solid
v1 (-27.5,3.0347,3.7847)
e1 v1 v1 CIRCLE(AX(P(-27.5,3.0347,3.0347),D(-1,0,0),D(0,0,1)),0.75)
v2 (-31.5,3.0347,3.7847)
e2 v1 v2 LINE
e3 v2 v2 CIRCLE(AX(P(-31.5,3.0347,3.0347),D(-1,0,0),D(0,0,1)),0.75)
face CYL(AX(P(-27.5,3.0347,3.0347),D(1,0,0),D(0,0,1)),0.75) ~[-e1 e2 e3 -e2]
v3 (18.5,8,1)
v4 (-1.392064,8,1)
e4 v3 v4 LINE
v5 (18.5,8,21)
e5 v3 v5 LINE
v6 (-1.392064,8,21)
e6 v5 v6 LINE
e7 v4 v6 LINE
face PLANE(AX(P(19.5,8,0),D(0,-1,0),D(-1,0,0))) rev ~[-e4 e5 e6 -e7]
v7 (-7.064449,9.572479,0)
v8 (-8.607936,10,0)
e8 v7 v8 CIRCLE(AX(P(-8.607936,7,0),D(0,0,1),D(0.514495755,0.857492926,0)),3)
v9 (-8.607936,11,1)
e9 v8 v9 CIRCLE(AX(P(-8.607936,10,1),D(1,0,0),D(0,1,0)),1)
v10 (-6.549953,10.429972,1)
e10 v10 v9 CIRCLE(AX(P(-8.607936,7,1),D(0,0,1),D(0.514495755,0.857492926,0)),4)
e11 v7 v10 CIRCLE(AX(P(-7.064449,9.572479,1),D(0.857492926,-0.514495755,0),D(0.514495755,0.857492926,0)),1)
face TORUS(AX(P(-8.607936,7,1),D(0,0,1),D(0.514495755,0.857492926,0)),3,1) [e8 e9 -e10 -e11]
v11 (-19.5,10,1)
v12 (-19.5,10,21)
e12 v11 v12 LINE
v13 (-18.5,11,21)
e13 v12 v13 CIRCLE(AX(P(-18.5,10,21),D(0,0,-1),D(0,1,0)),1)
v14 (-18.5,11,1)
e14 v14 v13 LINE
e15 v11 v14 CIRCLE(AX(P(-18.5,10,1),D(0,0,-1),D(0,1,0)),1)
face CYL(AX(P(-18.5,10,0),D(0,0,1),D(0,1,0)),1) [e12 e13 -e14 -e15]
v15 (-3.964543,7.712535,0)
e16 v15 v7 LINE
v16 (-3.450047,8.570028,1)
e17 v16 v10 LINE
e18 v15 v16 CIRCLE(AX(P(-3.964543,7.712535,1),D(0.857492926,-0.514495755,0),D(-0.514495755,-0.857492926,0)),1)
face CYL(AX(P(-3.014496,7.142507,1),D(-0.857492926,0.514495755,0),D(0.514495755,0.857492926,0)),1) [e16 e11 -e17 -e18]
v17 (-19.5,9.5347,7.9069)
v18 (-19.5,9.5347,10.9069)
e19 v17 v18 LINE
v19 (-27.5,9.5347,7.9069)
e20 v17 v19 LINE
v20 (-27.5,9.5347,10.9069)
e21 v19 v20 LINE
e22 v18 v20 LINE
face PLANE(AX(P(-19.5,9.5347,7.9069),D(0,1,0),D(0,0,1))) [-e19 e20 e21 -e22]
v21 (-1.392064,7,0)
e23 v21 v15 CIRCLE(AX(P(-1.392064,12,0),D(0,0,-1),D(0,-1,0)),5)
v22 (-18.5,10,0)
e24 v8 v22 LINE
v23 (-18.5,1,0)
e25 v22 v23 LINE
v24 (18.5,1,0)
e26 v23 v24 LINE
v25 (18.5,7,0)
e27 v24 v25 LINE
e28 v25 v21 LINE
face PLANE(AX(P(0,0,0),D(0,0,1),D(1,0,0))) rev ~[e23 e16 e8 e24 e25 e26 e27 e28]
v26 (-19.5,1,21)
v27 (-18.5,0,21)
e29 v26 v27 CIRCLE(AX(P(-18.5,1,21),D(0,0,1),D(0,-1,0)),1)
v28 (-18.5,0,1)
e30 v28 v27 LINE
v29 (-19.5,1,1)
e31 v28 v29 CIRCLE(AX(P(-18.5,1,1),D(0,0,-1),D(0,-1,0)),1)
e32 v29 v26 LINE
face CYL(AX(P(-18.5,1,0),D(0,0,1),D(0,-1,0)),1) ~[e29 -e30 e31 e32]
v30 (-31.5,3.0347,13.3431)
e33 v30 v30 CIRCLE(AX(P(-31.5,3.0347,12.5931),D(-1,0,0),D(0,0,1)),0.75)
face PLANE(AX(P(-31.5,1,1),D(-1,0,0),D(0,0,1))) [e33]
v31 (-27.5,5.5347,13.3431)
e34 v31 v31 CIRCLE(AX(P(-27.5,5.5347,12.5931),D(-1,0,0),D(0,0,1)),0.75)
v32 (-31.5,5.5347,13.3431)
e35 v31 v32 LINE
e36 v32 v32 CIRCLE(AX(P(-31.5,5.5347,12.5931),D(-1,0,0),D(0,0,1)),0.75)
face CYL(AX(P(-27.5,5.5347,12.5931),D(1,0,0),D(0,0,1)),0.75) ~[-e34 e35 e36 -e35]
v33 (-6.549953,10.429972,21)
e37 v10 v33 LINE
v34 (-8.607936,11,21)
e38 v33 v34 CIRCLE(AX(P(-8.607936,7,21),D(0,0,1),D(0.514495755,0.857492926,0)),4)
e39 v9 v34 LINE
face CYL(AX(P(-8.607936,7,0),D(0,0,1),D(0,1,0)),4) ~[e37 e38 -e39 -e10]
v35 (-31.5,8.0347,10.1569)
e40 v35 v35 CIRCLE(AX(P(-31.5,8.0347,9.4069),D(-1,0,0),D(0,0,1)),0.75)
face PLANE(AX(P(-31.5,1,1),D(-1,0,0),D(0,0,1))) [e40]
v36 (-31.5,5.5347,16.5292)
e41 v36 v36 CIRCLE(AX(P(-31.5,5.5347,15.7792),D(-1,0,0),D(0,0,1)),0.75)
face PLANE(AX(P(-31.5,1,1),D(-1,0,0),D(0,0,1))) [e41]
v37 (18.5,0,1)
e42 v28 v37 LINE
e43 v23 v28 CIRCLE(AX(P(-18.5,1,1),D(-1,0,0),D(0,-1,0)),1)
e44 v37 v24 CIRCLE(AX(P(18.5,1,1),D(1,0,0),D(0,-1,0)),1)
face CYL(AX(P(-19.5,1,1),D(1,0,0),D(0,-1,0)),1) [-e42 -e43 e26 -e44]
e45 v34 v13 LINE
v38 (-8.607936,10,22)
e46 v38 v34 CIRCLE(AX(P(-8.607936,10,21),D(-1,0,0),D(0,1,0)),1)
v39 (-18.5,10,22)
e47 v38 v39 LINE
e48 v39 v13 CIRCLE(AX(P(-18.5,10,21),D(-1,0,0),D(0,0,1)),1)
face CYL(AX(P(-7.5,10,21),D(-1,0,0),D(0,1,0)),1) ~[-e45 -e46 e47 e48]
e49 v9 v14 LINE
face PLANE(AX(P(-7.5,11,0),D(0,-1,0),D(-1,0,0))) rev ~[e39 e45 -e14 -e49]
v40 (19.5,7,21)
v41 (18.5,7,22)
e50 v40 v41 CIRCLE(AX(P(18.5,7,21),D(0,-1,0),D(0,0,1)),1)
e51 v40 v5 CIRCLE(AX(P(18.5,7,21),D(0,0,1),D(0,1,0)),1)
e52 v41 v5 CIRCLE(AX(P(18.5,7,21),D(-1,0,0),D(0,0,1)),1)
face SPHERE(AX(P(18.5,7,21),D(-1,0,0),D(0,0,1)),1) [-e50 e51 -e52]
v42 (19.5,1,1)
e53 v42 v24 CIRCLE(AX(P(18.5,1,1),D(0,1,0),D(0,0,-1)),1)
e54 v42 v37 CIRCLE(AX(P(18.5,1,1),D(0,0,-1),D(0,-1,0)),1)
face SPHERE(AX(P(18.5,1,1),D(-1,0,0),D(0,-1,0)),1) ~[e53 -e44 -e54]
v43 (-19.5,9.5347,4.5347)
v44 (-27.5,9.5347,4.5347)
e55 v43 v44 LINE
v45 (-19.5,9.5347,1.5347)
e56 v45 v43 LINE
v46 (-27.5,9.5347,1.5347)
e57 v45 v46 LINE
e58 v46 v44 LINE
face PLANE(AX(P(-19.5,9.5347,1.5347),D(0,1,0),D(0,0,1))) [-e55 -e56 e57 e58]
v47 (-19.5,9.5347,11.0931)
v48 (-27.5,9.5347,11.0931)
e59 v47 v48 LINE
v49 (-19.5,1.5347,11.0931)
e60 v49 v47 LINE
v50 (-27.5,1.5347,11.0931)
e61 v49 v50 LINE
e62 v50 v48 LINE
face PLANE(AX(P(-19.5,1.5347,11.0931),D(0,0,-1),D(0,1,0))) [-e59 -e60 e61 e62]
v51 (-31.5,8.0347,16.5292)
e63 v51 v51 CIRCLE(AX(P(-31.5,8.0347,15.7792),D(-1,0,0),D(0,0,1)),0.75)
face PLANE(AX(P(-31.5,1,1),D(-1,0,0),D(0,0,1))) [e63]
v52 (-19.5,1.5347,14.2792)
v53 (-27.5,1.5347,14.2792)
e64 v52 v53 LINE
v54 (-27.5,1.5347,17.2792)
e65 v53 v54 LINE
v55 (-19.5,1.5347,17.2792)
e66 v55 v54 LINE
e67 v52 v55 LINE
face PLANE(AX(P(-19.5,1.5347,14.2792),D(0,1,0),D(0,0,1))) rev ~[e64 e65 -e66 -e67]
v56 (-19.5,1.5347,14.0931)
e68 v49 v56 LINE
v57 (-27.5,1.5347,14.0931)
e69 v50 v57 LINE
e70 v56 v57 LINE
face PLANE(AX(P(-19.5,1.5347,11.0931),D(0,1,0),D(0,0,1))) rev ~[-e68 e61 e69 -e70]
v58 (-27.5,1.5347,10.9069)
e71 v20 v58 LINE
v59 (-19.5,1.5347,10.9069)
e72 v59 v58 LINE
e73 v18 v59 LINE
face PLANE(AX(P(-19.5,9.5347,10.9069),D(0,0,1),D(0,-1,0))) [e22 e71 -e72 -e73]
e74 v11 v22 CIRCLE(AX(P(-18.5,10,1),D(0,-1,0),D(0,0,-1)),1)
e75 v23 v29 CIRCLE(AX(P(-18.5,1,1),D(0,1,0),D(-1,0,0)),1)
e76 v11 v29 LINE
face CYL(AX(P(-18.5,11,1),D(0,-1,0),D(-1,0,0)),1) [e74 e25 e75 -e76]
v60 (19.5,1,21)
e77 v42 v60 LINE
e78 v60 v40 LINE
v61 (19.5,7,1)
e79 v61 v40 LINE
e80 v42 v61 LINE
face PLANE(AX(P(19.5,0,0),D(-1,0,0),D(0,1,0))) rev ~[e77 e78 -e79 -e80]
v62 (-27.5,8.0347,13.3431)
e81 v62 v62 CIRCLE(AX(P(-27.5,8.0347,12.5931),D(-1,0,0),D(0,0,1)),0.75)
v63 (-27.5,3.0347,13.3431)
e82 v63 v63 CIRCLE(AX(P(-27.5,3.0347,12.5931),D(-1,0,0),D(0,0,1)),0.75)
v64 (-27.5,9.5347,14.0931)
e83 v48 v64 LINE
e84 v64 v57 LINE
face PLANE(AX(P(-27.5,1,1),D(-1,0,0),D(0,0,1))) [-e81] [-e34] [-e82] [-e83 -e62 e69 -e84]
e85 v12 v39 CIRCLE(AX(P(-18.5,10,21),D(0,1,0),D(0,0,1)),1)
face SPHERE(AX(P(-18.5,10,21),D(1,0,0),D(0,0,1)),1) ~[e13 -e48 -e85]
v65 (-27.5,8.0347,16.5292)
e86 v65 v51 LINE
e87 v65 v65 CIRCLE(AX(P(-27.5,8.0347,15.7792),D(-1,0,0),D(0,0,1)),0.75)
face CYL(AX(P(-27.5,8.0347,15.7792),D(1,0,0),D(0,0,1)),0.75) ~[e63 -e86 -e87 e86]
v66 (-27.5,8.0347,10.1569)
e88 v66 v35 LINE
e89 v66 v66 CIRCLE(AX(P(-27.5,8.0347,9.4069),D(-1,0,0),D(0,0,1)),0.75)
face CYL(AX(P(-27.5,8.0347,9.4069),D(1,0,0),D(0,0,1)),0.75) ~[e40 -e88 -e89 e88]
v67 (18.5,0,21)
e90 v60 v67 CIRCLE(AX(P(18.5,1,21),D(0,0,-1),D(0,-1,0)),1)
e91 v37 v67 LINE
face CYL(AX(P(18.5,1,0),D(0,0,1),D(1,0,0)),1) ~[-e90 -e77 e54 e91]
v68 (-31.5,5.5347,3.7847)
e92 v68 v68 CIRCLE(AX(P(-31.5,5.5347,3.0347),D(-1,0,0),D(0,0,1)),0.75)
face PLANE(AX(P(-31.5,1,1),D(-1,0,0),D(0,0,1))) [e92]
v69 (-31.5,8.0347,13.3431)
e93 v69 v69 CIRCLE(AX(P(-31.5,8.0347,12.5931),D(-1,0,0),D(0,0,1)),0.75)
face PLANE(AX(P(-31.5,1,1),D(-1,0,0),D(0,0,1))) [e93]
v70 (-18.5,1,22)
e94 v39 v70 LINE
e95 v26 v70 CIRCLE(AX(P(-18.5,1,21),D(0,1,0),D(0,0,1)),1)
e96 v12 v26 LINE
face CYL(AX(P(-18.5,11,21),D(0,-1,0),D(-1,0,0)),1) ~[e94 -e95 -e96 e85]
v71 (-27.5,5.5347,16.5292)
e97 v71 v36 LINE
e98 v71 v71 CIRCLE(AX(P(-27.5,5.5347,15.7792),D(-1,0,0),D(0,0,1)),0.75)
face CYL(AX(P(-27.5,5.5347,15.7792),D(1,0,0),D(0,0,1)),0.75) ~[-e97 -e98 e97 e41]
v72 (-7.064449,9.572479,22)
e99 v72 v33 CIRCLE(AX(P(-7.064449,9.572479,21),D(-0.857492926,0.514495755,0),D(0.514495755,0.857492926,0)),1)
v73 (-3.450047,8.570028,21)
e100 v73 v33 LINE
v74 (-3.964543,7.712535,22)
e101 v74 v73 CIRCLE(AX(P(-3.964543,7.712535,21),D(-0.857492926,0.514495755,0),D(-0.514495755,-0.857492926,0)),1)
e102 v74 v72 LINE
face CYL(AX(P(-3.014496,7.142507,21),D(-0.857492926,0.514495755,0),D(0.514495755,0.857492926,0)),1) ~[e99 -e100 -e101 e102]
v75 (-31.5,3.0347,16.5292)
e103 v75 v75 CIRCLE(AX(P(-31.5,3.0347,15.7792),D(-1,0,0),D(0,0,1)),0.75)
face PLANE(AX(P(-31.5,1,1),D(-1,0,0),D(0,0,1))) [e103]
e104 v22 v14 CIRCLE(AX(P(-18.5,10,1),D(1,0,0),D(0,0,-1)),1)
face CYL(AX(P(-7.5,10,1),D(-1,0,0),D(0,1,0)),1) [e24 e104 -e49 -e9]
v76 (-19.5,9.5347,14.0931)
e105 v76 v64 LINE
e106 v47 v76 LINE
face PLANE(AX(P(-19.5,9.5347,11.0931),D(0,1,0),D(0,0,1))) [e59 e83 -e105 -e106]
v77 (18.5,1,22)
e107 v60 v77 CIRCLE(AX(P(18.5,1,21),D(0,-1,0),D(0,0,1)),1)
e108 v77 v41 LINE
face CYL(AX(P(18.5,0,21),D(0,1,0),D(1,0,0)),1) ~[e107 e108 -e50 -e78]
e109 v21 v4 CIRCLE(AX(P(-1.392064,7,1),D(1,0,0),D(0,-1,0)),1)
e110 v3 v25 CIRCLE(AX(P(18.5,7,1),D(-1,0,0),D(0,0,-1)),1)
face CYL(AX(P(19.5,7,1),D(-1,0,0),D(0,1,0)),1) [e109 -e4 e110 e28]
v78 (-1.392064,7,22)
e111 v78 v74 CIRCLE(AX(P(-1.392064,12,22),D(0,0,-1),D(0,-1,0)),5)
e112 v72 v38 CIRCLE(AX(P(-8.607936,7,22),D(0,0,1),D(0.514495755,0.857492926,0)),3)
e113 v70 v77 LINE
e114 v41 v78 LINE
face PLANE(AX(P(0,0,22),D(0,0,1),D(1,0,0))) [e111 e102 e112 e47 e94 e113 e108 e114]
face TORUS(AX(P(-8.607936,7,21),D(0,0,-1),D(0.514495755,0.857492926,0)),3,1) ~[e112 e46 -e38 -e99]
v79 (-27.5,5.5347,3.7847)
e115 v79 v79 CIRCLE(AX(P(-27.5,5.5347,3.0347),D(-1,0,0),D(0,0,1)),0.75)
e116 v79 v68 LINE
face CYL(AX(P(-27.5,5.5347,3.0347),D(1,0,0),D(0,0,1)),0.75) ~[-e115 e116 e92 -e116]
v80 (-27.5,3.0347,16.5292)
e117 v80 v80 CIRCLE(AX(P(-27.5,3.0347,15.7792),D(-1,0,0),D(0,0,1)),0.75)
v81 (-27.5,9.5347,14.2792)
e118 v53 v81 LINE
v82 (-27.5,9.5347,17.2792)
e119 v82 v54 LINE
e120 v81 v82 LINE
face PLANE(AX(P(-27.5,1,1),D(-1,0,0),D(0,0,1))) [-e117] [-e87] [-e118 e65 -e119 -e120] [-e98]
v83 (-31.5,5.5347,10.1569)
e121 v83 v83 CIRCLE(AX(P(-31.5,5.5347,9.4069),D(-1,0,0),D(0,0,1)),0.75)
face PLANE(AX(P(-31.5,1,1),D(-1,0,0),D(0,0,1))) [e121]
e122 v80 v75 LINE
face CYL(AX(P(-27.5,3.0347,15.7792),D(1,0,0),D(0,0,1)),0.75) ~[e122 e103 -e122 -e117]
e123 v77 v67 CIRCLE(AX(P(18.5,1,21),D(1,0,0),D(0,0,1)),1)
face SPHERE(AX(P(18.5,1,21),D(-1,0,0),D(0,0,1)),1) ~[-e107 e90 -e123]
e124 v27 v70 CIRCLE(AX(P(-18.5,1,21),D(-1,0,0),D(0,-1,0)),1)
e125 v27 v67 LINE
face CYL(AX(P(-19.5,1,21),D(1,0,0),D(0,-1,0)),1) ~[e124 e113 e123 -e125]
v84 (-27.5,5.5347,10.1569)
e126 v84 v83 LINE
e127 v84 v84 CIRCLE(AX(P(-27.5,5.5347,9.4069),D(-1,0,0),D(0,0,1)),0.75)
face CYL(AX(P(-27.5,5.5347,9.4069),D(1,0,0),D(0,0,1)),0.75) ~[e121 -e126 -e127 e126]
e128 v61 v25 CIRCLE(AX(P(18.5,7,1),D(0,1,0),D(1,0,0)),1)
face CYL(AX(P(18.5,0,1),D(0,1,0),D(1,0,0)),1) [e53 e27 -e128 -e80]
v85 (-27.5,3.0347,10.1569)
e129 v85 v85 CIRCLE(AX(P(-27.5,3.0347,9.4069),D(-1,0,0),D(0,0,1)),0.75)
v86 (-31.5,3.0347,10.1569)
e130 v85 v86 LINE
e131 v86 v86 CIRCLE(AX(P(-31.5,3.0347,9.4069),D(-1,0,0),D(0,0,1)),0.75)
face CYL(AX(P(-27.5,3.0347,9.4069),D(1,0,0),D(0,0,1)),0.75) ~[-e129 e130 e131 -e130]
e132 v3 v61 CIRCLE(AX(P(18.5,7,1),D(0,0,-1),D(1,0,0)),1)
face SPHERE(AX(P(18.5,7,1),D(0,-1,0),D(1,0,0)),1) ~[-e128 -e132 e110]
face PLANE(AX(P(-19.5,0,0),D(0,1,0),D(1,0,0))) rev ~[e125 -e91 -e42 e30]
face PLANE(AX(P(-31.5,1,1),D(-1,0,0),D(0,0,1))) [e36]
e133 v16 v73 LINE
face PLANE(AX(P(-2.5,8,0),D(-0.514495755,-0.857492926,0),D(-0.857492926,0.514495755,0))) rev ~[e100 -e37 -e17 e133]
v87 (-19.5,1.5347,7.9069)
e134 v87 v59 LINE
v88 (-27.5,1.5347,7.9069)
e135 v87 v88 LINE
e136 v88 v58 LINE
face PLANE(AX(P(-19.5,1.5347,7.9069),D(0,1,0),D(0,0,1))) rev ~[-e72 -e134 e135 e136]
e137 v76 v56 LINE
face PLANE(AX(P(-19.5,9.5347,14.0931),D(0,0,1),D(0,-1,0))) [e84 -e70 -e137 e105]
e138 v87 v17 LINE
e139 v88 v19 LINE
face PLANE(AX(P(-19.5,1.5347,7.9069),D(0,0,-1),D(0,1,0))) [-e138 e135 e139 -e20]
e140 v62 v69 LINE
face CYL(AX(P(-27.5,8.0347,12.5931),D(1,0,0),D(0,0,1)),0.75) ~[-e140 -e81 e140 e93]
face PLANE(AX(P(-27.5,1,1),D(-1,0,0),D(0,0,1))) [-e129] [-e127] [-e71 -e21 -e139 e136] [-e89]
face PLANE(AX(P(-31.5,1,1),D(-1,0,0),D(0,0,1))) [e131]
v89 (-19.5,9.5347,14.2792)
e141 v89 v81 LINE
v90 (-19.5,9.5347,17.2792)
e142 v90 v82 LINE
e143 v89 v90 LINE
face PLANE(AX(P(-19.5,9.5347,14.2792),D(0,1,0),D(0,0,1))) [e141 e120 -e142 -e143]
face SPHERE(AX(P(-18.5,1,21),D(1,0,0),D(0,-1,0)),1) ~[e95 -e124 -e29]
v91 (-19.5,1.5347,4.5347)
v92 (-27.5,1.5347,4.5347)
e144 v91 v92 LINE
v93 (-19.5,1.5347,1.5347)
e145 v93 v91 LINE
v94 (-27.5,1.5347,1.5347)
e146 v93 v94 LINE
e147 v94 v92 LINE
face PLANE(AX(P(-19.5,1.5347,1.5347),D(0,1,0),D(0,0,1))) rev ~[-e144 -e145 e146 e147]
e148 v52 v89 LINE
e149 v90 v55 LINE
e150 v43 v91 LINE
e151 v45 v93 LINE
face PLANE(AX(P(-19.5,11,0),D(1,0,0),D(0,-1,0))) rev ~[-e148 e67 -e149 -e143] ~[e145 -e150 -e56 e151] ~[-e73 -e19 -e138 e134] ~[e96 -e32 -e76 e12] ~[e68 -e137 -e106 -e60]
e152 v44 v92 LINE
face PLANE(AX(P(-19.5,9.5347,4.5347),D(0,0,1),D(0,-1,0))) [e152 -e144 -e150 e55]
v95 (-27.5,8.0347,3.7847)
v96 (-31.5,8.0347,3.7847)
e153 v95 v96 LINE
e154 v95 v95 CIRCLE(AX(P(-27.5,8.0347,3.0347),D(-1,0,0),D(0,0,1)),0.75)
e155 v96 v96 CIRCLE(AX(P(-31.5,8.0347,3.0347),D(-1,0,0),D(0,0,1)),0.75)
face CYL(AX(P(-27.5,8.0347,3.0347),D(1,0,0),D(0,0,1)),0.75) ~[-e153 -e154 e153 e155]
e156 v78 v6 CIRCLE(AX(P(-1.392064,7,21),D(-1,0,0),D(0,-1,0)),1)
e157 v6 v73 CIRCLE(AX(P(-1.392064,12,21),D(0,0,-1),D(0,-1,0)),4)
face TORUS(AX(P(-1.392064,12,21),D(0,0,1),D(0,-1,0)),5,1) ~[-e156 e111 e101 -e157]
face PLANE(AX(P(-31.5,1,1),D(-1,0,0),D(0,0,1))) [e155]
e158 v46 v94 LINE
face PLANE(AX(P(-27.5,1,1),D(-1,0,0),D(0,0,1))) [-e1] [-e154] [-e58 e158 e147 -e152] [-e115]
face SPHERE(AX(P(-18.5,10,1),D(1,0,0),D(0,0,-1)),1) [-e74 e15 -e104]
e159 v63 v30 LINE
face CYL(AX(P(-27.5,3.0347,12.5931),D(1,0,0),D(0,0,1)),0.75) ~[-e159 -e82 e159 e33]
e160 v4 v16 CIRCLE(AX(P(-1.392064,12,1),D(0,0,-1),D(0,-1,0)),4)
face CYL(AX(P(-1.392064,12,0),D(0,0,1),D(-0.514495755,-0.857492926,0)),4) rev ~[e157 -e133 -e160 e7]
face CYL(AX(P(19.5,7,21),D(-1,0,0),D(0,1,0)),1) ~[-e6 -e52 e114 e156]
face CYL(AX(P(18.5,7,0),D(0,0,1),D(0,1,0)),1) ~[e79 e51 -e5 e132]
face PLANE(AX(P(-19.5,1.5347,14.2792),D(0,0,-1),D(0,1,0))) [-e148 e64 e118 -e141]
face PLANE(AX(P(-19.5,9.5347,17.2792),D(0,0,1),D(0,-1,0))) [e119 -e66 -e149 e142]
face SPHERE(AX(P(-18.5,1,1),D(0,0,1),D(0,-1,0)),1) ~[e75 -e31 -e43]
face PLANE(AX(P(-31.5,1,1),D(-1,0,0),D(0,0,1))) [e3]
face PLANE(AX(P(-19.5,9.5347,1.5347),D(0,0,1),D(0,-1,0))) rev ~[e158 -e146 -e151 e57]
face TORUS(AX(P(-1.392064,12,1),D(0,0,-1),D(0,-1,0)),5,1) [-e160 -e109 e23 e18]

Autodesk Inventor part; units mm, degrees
ref_plane "YZ Plane" through (0, 0, 0) normal (1, 0, 0) x (0, 1, 0)
ref_plane "XZ Plane" through (0, 0, 0) normal (0, 1, 0) x (-1, 0, 0)
ref_plane "XY Plane" through (0, 0, 0) normal (0, 0, 1) x (1, 0, 0)
sketch "スケッチ1" plane through (0, 0, 0) normal (0, 0, 1) x (1, 0, 0)
  line L0 (-19.5, 11) -> (-19.5, 0)
  line L1 (-19.5, 0) -> (19.5, 0)
  line L2 (19.5, 0) -> (19.5, 8)
  line L3 (19.5, 8) -> (-2.5, 8)
  line L4 (-2.5, 8) -> (-7.5, 11)
  line L5 (-7.5, 11) -> (-19.5, 11)
  point P0 (0, 0)
  point P1 (0, 0)
  dimension "d0" = 8
  dimension "d1" = 11
  dimension "d2" = 39
  dimension "d3" = 12
  dimension "d4" = 22
extrude "押し出し1" add sketch "スケッチ1" along normal blind 22
fillet "フィレット1" radius 1 16 edges at (0, 0, 22) (8.5, 8, 22) (19.5, 4, 22) (-19.5, 0, 11) (0, 0, 0) (19.5, 0, 11) (19.5, 4, 0) (19.5, 8, 11) (-5, 9.5, 22) (8.5, 8, 0) (-5, 9.5, 0) (-13.5, 11, 22) (-19.5, 5.5, 22) (-13.5, 11, 0) (-19.5, 5.5, 0) (-19.5, 11, 11)
fillet "フィレット1" radius 4 2 edges at (-7.5, 11, 11) (-2.5, 8, 11)
sketch "スケッチ2" plane through (-19.5, 1, 1) normal (-1, 0, 0) x (0, 0, 1)
  line L0 (0, 0) -> (0, 9) projected
  line L1 (20, 0) -> (0, 0) projected
  line L2 (20, 9) -> (20, 0) projected
  line L3 (0.5347, 8.5347) -> (0.5347, 0.5347)
  line L4 (0.5347, 0.5347) -> (19.4653, 0.5347)
  line L5 (19.4653, 0.5347) -> (19.4653, 8.5)
  line L6 (0.5347, 8.5347) -> (3.5347, 8.5347)
  line L7 (3.5347, 8.5347) -> (3.5347, 0.5347)
  line L8 (3.5347, 0.5347) -> (0.5347, 0.5347)
  line L9 (0.5347, 0.5347) -> (0.5347, 8.5347)
  line L10 (3.7208, 8.5347) -> (6.7208, 8.5347)
  line L11 (6.7208, 8.5347) -> (6.7208, 0.5347)
  line L12 (6.7208, 0.5347) -> (3.7208, 0.5347)
  line L13 (3.7208, 0.5347) -> (3.7208, 8.5347)
  line L14 (6.9069, 8.5347) -> (9.9069, 8.5347)
  line L15 (9.9069, 8.5347) -> (9.9069, 0.5347)
  line L16 (9.9069, 0.5347) -> (6.9069, 0.5347)
  line L17 (6.9069, 0.5347) -> (6.9069, 8.5347)
  line L18 (10.0931, 8.5347) -> (13.0931, 8.5347)
  line L19 (13.0931, 8.5347) -> (13.0931, 0.5347)
  line L20 (13.0931, 0.5347) -> (10.0931, 0.5347)
  line L21 (10.0931, 0.5347) -> (10.0931, 8.5347)
  line L22 (13.2792, 8.5347) -> (16.2792, 8.5347)
  line L23 (16.2792, 8.5347) -> (16.2792, 0.5347)
  line L24 (16.2792, 0.5347) -> (13.2792, 0.5347)
  line L25 (13.2792, 0.5347) -> (13.2792, 8.5347)
  line L26 (16.4653, 8.5347) -> (19.4653, 8.5347)
  line L27 (19.4653, 8.5347) -> (19.4653, 0.5347)
  line L28 (19.4653, 0.5347) -> (16.4653, 0.5347)
  line L29 (16.4653, 0.5347) -> (16.4653, 8.5347)
  line L30 (3.5347, 8.5347) -> (3.7208, 8.5347)
  line L31 (6.7208, 8.5347) -> (6.9069, 8.5347)
  line L32 (9.9069, 8.5347) -> (10.0931, 8.5347)
  line L33 (13.0931, 8.5347) -> (13.2792, 8.5347)
  line L34 (16.2792, 8.5347) -> (16.4653, 8.5347)
  point P0 (-1, -1)
  dimension "d9" = 8
  dimension "d11" = 0.5347
  dimension "d12" = 3
extrude "押し出し2" add sketch "スケッチ2" along normal blind 8 contours L6 L7 L4 L3 | L10 L11 L4 L13 | L14 L15 L4 L17 | L18 L19 L4 L21 | L22 L23 L4 L25 | L26 L27 L5 L4 L29
sketch "スケッチ4" plane through (-27.5, 1, 1) normal (-1, 0, 0) x (0, 0, 1)
  line L0 (0.5347, 8.5347) -> (0.5347, 0.5347) projected
  line L1 (6.7208, 0.5347) -> (6.7208, 8.5347) projected
  line L2 (6.7208, 8.5347) -> (3.7208, 8.5347) projected
  line L3 (3.7208, 8.5347) -> (3.7208, 0.5347) projected
  line L4 (3.7208, 0.5347) -> (6.7208, 0.5347) projected
  line L5 (9.9069, 0.5347) -> (9.9069, 8.5347) projected
  line L6 (9.9069, 8.5347) -> (6.9069, 8.5347) projected
  line L7 (6.9069, 8.5347) -> (6.9069, 0.5347) projected
  line L8 (6.9069, 0.5347) -> (9.9069, 0.5347) projected
  line L9 (13.0931, 0.5347) -> (13.0931, 8.5347) projected
  line L10 (13.0931, 8.5347) -> (10.0931, 8.5347) projected
  line L11 (10.0931, 8.5347) -> (10.0931, 0.5347) projected
  line L12 (10.0931, 0.5347) -> (13.0931, 0.5347) projected
  line L13 (16.2792, 0.5347) -> (16.2792, 8.5347) projected
  line L14 (16.2792, 8.5347) -> (13.2792, 8.5347) projected
  line L15 (13.2792, 8.5347) -> (13.2792, 0.5347) projected
  line L16 (13.2792, 0.5347) -> (16.2792, 0.5347) projected
  line L17 (19.4653, 0.5347) -> (19.4653, 8.5347) projected
  line L18 (19.4653, 8.5347) -> (16.4653, 8.5347) projected
  line L19 (16.4653, 8.5347) -> (16.4653, 0.5347) projected
  line L20 (16.4653, 0.5347) -> (19.4653, 0.5347) projected
  line L21 (1.0347, 3.5347) -> (1.0347, 5.5347)
  line L22 (1.0347, 1.0347) -> (1.0347, 3.0347)
  line L23 (1.0347, 7.3573) -> (0.5347, 7.3573)
  line L24 (1.3567, 6.0347) -> (1.3567, 5.5347)
  line L25 (1.3567, 3.5347) -> (1.3567, 3.0347)
  circle A0 centre (2.0347, 2.0347) radius 0.75
  circle A1 centre (2.0347, 4.5347) radius 0.75
  circle A2 centre (2.0347, 7.0347) radius 0.75
  circle A3 centre (5.2208, 7.0347) radius 0.75
  circle A4 centre (5.2208, 4.5347) radius 0.75
  circle A5 centre (5.2208, 2.0347) radius 0.75
  circle A6 centre (8.4069, 7.0347) radius 0.75
  circle A7 centre (8.4069, 4.5347) radius 0.75
  circle A8 centre (8.4069, 2.0347) radius 0.75
  circle A9 centre (11.5931, 2.0347) radius 0.75
  circle A10 centre (11.5931, 4.5347) radius 0.75
  circle A11 centre (11.5931, 7.0347) radius 0.75
  circle A12 centre (14.7792, 7.0347) radius 0.75
  circle A13 centre (14.7792, 4.5347) radius 0.75
  circle A14 centre (14.7792, 2.0347) radius 0.75
  circle A15 centre (17.9653, 2.0347) radius 0.75
  circle A16 centre (17.9653, 4.5347) radius 0.75
  circle A17 centre (17.9653, 7.0347) radius 0.75
  point P0 (-1, -1)
  dimension "d17" = 1.5
extrude "押し出し3" add sketch "スケッチ4" along normal blind 4 contours A0 | A1 | A2 | A3 | A4 | A5 | A6 | A7 | A8 | A9 | A10 | A11 | A12 | A13 | A14 | A15 | A16 | A17
sketch "スケッチ5" plane through (-31.5, 3.0347, 6.2208) normal (-1, 0, 0) x (0, 0, 1)
  line L0 (14.2445, 6.5) -> (14.2445, -1.5) projected
  circle A0 centre (12.7445, 2.5) radius 0.75 projected
  circle A1 centre (12.7445, 0) radius 0.75 projected
  circle A2 centre (12.7445, 5) radius 0.75 projected
  line L1 (14.2445, -1.5) -> (14.2445, 6.5) projected
  line L2 (14.2445, 6.5) -> (11.2445, 6.5) projected
  line L3 (11.2445, 6.5) -> (11.2445, -1.5) projected
  line L4 (11.2445, -1.5) -> (14.2445, -1.5) projected
  circle A3 centre (0, 2.5) radius 0.75 projected
  circle A4 centre (0, 5) radius 0.75 projected
  circle A5 centre (0, 0) radius 0.75 projected
  line L5 (1.5, -1.5) -> (1.5, 6.5) projected
  line L6 (1.5, 6.5) -> (-1.5, 6.5) projected
  line L7 (-1.5, 6.5) -> (-1.5, -1.5) projected
  line L8 (-1.5, -1.5) -> (1.5, -1.5) projected
  point P0 (-6.2208, -3.0347)
extrude "押し出し4" cut sketch "スケッチ5" against normal blind 12 contours L0 L4 L3 L2 | A0 | A1 | A2 | A3 | A4 | A5 | L8 L7 L6 L5
properties part number "受信機"
